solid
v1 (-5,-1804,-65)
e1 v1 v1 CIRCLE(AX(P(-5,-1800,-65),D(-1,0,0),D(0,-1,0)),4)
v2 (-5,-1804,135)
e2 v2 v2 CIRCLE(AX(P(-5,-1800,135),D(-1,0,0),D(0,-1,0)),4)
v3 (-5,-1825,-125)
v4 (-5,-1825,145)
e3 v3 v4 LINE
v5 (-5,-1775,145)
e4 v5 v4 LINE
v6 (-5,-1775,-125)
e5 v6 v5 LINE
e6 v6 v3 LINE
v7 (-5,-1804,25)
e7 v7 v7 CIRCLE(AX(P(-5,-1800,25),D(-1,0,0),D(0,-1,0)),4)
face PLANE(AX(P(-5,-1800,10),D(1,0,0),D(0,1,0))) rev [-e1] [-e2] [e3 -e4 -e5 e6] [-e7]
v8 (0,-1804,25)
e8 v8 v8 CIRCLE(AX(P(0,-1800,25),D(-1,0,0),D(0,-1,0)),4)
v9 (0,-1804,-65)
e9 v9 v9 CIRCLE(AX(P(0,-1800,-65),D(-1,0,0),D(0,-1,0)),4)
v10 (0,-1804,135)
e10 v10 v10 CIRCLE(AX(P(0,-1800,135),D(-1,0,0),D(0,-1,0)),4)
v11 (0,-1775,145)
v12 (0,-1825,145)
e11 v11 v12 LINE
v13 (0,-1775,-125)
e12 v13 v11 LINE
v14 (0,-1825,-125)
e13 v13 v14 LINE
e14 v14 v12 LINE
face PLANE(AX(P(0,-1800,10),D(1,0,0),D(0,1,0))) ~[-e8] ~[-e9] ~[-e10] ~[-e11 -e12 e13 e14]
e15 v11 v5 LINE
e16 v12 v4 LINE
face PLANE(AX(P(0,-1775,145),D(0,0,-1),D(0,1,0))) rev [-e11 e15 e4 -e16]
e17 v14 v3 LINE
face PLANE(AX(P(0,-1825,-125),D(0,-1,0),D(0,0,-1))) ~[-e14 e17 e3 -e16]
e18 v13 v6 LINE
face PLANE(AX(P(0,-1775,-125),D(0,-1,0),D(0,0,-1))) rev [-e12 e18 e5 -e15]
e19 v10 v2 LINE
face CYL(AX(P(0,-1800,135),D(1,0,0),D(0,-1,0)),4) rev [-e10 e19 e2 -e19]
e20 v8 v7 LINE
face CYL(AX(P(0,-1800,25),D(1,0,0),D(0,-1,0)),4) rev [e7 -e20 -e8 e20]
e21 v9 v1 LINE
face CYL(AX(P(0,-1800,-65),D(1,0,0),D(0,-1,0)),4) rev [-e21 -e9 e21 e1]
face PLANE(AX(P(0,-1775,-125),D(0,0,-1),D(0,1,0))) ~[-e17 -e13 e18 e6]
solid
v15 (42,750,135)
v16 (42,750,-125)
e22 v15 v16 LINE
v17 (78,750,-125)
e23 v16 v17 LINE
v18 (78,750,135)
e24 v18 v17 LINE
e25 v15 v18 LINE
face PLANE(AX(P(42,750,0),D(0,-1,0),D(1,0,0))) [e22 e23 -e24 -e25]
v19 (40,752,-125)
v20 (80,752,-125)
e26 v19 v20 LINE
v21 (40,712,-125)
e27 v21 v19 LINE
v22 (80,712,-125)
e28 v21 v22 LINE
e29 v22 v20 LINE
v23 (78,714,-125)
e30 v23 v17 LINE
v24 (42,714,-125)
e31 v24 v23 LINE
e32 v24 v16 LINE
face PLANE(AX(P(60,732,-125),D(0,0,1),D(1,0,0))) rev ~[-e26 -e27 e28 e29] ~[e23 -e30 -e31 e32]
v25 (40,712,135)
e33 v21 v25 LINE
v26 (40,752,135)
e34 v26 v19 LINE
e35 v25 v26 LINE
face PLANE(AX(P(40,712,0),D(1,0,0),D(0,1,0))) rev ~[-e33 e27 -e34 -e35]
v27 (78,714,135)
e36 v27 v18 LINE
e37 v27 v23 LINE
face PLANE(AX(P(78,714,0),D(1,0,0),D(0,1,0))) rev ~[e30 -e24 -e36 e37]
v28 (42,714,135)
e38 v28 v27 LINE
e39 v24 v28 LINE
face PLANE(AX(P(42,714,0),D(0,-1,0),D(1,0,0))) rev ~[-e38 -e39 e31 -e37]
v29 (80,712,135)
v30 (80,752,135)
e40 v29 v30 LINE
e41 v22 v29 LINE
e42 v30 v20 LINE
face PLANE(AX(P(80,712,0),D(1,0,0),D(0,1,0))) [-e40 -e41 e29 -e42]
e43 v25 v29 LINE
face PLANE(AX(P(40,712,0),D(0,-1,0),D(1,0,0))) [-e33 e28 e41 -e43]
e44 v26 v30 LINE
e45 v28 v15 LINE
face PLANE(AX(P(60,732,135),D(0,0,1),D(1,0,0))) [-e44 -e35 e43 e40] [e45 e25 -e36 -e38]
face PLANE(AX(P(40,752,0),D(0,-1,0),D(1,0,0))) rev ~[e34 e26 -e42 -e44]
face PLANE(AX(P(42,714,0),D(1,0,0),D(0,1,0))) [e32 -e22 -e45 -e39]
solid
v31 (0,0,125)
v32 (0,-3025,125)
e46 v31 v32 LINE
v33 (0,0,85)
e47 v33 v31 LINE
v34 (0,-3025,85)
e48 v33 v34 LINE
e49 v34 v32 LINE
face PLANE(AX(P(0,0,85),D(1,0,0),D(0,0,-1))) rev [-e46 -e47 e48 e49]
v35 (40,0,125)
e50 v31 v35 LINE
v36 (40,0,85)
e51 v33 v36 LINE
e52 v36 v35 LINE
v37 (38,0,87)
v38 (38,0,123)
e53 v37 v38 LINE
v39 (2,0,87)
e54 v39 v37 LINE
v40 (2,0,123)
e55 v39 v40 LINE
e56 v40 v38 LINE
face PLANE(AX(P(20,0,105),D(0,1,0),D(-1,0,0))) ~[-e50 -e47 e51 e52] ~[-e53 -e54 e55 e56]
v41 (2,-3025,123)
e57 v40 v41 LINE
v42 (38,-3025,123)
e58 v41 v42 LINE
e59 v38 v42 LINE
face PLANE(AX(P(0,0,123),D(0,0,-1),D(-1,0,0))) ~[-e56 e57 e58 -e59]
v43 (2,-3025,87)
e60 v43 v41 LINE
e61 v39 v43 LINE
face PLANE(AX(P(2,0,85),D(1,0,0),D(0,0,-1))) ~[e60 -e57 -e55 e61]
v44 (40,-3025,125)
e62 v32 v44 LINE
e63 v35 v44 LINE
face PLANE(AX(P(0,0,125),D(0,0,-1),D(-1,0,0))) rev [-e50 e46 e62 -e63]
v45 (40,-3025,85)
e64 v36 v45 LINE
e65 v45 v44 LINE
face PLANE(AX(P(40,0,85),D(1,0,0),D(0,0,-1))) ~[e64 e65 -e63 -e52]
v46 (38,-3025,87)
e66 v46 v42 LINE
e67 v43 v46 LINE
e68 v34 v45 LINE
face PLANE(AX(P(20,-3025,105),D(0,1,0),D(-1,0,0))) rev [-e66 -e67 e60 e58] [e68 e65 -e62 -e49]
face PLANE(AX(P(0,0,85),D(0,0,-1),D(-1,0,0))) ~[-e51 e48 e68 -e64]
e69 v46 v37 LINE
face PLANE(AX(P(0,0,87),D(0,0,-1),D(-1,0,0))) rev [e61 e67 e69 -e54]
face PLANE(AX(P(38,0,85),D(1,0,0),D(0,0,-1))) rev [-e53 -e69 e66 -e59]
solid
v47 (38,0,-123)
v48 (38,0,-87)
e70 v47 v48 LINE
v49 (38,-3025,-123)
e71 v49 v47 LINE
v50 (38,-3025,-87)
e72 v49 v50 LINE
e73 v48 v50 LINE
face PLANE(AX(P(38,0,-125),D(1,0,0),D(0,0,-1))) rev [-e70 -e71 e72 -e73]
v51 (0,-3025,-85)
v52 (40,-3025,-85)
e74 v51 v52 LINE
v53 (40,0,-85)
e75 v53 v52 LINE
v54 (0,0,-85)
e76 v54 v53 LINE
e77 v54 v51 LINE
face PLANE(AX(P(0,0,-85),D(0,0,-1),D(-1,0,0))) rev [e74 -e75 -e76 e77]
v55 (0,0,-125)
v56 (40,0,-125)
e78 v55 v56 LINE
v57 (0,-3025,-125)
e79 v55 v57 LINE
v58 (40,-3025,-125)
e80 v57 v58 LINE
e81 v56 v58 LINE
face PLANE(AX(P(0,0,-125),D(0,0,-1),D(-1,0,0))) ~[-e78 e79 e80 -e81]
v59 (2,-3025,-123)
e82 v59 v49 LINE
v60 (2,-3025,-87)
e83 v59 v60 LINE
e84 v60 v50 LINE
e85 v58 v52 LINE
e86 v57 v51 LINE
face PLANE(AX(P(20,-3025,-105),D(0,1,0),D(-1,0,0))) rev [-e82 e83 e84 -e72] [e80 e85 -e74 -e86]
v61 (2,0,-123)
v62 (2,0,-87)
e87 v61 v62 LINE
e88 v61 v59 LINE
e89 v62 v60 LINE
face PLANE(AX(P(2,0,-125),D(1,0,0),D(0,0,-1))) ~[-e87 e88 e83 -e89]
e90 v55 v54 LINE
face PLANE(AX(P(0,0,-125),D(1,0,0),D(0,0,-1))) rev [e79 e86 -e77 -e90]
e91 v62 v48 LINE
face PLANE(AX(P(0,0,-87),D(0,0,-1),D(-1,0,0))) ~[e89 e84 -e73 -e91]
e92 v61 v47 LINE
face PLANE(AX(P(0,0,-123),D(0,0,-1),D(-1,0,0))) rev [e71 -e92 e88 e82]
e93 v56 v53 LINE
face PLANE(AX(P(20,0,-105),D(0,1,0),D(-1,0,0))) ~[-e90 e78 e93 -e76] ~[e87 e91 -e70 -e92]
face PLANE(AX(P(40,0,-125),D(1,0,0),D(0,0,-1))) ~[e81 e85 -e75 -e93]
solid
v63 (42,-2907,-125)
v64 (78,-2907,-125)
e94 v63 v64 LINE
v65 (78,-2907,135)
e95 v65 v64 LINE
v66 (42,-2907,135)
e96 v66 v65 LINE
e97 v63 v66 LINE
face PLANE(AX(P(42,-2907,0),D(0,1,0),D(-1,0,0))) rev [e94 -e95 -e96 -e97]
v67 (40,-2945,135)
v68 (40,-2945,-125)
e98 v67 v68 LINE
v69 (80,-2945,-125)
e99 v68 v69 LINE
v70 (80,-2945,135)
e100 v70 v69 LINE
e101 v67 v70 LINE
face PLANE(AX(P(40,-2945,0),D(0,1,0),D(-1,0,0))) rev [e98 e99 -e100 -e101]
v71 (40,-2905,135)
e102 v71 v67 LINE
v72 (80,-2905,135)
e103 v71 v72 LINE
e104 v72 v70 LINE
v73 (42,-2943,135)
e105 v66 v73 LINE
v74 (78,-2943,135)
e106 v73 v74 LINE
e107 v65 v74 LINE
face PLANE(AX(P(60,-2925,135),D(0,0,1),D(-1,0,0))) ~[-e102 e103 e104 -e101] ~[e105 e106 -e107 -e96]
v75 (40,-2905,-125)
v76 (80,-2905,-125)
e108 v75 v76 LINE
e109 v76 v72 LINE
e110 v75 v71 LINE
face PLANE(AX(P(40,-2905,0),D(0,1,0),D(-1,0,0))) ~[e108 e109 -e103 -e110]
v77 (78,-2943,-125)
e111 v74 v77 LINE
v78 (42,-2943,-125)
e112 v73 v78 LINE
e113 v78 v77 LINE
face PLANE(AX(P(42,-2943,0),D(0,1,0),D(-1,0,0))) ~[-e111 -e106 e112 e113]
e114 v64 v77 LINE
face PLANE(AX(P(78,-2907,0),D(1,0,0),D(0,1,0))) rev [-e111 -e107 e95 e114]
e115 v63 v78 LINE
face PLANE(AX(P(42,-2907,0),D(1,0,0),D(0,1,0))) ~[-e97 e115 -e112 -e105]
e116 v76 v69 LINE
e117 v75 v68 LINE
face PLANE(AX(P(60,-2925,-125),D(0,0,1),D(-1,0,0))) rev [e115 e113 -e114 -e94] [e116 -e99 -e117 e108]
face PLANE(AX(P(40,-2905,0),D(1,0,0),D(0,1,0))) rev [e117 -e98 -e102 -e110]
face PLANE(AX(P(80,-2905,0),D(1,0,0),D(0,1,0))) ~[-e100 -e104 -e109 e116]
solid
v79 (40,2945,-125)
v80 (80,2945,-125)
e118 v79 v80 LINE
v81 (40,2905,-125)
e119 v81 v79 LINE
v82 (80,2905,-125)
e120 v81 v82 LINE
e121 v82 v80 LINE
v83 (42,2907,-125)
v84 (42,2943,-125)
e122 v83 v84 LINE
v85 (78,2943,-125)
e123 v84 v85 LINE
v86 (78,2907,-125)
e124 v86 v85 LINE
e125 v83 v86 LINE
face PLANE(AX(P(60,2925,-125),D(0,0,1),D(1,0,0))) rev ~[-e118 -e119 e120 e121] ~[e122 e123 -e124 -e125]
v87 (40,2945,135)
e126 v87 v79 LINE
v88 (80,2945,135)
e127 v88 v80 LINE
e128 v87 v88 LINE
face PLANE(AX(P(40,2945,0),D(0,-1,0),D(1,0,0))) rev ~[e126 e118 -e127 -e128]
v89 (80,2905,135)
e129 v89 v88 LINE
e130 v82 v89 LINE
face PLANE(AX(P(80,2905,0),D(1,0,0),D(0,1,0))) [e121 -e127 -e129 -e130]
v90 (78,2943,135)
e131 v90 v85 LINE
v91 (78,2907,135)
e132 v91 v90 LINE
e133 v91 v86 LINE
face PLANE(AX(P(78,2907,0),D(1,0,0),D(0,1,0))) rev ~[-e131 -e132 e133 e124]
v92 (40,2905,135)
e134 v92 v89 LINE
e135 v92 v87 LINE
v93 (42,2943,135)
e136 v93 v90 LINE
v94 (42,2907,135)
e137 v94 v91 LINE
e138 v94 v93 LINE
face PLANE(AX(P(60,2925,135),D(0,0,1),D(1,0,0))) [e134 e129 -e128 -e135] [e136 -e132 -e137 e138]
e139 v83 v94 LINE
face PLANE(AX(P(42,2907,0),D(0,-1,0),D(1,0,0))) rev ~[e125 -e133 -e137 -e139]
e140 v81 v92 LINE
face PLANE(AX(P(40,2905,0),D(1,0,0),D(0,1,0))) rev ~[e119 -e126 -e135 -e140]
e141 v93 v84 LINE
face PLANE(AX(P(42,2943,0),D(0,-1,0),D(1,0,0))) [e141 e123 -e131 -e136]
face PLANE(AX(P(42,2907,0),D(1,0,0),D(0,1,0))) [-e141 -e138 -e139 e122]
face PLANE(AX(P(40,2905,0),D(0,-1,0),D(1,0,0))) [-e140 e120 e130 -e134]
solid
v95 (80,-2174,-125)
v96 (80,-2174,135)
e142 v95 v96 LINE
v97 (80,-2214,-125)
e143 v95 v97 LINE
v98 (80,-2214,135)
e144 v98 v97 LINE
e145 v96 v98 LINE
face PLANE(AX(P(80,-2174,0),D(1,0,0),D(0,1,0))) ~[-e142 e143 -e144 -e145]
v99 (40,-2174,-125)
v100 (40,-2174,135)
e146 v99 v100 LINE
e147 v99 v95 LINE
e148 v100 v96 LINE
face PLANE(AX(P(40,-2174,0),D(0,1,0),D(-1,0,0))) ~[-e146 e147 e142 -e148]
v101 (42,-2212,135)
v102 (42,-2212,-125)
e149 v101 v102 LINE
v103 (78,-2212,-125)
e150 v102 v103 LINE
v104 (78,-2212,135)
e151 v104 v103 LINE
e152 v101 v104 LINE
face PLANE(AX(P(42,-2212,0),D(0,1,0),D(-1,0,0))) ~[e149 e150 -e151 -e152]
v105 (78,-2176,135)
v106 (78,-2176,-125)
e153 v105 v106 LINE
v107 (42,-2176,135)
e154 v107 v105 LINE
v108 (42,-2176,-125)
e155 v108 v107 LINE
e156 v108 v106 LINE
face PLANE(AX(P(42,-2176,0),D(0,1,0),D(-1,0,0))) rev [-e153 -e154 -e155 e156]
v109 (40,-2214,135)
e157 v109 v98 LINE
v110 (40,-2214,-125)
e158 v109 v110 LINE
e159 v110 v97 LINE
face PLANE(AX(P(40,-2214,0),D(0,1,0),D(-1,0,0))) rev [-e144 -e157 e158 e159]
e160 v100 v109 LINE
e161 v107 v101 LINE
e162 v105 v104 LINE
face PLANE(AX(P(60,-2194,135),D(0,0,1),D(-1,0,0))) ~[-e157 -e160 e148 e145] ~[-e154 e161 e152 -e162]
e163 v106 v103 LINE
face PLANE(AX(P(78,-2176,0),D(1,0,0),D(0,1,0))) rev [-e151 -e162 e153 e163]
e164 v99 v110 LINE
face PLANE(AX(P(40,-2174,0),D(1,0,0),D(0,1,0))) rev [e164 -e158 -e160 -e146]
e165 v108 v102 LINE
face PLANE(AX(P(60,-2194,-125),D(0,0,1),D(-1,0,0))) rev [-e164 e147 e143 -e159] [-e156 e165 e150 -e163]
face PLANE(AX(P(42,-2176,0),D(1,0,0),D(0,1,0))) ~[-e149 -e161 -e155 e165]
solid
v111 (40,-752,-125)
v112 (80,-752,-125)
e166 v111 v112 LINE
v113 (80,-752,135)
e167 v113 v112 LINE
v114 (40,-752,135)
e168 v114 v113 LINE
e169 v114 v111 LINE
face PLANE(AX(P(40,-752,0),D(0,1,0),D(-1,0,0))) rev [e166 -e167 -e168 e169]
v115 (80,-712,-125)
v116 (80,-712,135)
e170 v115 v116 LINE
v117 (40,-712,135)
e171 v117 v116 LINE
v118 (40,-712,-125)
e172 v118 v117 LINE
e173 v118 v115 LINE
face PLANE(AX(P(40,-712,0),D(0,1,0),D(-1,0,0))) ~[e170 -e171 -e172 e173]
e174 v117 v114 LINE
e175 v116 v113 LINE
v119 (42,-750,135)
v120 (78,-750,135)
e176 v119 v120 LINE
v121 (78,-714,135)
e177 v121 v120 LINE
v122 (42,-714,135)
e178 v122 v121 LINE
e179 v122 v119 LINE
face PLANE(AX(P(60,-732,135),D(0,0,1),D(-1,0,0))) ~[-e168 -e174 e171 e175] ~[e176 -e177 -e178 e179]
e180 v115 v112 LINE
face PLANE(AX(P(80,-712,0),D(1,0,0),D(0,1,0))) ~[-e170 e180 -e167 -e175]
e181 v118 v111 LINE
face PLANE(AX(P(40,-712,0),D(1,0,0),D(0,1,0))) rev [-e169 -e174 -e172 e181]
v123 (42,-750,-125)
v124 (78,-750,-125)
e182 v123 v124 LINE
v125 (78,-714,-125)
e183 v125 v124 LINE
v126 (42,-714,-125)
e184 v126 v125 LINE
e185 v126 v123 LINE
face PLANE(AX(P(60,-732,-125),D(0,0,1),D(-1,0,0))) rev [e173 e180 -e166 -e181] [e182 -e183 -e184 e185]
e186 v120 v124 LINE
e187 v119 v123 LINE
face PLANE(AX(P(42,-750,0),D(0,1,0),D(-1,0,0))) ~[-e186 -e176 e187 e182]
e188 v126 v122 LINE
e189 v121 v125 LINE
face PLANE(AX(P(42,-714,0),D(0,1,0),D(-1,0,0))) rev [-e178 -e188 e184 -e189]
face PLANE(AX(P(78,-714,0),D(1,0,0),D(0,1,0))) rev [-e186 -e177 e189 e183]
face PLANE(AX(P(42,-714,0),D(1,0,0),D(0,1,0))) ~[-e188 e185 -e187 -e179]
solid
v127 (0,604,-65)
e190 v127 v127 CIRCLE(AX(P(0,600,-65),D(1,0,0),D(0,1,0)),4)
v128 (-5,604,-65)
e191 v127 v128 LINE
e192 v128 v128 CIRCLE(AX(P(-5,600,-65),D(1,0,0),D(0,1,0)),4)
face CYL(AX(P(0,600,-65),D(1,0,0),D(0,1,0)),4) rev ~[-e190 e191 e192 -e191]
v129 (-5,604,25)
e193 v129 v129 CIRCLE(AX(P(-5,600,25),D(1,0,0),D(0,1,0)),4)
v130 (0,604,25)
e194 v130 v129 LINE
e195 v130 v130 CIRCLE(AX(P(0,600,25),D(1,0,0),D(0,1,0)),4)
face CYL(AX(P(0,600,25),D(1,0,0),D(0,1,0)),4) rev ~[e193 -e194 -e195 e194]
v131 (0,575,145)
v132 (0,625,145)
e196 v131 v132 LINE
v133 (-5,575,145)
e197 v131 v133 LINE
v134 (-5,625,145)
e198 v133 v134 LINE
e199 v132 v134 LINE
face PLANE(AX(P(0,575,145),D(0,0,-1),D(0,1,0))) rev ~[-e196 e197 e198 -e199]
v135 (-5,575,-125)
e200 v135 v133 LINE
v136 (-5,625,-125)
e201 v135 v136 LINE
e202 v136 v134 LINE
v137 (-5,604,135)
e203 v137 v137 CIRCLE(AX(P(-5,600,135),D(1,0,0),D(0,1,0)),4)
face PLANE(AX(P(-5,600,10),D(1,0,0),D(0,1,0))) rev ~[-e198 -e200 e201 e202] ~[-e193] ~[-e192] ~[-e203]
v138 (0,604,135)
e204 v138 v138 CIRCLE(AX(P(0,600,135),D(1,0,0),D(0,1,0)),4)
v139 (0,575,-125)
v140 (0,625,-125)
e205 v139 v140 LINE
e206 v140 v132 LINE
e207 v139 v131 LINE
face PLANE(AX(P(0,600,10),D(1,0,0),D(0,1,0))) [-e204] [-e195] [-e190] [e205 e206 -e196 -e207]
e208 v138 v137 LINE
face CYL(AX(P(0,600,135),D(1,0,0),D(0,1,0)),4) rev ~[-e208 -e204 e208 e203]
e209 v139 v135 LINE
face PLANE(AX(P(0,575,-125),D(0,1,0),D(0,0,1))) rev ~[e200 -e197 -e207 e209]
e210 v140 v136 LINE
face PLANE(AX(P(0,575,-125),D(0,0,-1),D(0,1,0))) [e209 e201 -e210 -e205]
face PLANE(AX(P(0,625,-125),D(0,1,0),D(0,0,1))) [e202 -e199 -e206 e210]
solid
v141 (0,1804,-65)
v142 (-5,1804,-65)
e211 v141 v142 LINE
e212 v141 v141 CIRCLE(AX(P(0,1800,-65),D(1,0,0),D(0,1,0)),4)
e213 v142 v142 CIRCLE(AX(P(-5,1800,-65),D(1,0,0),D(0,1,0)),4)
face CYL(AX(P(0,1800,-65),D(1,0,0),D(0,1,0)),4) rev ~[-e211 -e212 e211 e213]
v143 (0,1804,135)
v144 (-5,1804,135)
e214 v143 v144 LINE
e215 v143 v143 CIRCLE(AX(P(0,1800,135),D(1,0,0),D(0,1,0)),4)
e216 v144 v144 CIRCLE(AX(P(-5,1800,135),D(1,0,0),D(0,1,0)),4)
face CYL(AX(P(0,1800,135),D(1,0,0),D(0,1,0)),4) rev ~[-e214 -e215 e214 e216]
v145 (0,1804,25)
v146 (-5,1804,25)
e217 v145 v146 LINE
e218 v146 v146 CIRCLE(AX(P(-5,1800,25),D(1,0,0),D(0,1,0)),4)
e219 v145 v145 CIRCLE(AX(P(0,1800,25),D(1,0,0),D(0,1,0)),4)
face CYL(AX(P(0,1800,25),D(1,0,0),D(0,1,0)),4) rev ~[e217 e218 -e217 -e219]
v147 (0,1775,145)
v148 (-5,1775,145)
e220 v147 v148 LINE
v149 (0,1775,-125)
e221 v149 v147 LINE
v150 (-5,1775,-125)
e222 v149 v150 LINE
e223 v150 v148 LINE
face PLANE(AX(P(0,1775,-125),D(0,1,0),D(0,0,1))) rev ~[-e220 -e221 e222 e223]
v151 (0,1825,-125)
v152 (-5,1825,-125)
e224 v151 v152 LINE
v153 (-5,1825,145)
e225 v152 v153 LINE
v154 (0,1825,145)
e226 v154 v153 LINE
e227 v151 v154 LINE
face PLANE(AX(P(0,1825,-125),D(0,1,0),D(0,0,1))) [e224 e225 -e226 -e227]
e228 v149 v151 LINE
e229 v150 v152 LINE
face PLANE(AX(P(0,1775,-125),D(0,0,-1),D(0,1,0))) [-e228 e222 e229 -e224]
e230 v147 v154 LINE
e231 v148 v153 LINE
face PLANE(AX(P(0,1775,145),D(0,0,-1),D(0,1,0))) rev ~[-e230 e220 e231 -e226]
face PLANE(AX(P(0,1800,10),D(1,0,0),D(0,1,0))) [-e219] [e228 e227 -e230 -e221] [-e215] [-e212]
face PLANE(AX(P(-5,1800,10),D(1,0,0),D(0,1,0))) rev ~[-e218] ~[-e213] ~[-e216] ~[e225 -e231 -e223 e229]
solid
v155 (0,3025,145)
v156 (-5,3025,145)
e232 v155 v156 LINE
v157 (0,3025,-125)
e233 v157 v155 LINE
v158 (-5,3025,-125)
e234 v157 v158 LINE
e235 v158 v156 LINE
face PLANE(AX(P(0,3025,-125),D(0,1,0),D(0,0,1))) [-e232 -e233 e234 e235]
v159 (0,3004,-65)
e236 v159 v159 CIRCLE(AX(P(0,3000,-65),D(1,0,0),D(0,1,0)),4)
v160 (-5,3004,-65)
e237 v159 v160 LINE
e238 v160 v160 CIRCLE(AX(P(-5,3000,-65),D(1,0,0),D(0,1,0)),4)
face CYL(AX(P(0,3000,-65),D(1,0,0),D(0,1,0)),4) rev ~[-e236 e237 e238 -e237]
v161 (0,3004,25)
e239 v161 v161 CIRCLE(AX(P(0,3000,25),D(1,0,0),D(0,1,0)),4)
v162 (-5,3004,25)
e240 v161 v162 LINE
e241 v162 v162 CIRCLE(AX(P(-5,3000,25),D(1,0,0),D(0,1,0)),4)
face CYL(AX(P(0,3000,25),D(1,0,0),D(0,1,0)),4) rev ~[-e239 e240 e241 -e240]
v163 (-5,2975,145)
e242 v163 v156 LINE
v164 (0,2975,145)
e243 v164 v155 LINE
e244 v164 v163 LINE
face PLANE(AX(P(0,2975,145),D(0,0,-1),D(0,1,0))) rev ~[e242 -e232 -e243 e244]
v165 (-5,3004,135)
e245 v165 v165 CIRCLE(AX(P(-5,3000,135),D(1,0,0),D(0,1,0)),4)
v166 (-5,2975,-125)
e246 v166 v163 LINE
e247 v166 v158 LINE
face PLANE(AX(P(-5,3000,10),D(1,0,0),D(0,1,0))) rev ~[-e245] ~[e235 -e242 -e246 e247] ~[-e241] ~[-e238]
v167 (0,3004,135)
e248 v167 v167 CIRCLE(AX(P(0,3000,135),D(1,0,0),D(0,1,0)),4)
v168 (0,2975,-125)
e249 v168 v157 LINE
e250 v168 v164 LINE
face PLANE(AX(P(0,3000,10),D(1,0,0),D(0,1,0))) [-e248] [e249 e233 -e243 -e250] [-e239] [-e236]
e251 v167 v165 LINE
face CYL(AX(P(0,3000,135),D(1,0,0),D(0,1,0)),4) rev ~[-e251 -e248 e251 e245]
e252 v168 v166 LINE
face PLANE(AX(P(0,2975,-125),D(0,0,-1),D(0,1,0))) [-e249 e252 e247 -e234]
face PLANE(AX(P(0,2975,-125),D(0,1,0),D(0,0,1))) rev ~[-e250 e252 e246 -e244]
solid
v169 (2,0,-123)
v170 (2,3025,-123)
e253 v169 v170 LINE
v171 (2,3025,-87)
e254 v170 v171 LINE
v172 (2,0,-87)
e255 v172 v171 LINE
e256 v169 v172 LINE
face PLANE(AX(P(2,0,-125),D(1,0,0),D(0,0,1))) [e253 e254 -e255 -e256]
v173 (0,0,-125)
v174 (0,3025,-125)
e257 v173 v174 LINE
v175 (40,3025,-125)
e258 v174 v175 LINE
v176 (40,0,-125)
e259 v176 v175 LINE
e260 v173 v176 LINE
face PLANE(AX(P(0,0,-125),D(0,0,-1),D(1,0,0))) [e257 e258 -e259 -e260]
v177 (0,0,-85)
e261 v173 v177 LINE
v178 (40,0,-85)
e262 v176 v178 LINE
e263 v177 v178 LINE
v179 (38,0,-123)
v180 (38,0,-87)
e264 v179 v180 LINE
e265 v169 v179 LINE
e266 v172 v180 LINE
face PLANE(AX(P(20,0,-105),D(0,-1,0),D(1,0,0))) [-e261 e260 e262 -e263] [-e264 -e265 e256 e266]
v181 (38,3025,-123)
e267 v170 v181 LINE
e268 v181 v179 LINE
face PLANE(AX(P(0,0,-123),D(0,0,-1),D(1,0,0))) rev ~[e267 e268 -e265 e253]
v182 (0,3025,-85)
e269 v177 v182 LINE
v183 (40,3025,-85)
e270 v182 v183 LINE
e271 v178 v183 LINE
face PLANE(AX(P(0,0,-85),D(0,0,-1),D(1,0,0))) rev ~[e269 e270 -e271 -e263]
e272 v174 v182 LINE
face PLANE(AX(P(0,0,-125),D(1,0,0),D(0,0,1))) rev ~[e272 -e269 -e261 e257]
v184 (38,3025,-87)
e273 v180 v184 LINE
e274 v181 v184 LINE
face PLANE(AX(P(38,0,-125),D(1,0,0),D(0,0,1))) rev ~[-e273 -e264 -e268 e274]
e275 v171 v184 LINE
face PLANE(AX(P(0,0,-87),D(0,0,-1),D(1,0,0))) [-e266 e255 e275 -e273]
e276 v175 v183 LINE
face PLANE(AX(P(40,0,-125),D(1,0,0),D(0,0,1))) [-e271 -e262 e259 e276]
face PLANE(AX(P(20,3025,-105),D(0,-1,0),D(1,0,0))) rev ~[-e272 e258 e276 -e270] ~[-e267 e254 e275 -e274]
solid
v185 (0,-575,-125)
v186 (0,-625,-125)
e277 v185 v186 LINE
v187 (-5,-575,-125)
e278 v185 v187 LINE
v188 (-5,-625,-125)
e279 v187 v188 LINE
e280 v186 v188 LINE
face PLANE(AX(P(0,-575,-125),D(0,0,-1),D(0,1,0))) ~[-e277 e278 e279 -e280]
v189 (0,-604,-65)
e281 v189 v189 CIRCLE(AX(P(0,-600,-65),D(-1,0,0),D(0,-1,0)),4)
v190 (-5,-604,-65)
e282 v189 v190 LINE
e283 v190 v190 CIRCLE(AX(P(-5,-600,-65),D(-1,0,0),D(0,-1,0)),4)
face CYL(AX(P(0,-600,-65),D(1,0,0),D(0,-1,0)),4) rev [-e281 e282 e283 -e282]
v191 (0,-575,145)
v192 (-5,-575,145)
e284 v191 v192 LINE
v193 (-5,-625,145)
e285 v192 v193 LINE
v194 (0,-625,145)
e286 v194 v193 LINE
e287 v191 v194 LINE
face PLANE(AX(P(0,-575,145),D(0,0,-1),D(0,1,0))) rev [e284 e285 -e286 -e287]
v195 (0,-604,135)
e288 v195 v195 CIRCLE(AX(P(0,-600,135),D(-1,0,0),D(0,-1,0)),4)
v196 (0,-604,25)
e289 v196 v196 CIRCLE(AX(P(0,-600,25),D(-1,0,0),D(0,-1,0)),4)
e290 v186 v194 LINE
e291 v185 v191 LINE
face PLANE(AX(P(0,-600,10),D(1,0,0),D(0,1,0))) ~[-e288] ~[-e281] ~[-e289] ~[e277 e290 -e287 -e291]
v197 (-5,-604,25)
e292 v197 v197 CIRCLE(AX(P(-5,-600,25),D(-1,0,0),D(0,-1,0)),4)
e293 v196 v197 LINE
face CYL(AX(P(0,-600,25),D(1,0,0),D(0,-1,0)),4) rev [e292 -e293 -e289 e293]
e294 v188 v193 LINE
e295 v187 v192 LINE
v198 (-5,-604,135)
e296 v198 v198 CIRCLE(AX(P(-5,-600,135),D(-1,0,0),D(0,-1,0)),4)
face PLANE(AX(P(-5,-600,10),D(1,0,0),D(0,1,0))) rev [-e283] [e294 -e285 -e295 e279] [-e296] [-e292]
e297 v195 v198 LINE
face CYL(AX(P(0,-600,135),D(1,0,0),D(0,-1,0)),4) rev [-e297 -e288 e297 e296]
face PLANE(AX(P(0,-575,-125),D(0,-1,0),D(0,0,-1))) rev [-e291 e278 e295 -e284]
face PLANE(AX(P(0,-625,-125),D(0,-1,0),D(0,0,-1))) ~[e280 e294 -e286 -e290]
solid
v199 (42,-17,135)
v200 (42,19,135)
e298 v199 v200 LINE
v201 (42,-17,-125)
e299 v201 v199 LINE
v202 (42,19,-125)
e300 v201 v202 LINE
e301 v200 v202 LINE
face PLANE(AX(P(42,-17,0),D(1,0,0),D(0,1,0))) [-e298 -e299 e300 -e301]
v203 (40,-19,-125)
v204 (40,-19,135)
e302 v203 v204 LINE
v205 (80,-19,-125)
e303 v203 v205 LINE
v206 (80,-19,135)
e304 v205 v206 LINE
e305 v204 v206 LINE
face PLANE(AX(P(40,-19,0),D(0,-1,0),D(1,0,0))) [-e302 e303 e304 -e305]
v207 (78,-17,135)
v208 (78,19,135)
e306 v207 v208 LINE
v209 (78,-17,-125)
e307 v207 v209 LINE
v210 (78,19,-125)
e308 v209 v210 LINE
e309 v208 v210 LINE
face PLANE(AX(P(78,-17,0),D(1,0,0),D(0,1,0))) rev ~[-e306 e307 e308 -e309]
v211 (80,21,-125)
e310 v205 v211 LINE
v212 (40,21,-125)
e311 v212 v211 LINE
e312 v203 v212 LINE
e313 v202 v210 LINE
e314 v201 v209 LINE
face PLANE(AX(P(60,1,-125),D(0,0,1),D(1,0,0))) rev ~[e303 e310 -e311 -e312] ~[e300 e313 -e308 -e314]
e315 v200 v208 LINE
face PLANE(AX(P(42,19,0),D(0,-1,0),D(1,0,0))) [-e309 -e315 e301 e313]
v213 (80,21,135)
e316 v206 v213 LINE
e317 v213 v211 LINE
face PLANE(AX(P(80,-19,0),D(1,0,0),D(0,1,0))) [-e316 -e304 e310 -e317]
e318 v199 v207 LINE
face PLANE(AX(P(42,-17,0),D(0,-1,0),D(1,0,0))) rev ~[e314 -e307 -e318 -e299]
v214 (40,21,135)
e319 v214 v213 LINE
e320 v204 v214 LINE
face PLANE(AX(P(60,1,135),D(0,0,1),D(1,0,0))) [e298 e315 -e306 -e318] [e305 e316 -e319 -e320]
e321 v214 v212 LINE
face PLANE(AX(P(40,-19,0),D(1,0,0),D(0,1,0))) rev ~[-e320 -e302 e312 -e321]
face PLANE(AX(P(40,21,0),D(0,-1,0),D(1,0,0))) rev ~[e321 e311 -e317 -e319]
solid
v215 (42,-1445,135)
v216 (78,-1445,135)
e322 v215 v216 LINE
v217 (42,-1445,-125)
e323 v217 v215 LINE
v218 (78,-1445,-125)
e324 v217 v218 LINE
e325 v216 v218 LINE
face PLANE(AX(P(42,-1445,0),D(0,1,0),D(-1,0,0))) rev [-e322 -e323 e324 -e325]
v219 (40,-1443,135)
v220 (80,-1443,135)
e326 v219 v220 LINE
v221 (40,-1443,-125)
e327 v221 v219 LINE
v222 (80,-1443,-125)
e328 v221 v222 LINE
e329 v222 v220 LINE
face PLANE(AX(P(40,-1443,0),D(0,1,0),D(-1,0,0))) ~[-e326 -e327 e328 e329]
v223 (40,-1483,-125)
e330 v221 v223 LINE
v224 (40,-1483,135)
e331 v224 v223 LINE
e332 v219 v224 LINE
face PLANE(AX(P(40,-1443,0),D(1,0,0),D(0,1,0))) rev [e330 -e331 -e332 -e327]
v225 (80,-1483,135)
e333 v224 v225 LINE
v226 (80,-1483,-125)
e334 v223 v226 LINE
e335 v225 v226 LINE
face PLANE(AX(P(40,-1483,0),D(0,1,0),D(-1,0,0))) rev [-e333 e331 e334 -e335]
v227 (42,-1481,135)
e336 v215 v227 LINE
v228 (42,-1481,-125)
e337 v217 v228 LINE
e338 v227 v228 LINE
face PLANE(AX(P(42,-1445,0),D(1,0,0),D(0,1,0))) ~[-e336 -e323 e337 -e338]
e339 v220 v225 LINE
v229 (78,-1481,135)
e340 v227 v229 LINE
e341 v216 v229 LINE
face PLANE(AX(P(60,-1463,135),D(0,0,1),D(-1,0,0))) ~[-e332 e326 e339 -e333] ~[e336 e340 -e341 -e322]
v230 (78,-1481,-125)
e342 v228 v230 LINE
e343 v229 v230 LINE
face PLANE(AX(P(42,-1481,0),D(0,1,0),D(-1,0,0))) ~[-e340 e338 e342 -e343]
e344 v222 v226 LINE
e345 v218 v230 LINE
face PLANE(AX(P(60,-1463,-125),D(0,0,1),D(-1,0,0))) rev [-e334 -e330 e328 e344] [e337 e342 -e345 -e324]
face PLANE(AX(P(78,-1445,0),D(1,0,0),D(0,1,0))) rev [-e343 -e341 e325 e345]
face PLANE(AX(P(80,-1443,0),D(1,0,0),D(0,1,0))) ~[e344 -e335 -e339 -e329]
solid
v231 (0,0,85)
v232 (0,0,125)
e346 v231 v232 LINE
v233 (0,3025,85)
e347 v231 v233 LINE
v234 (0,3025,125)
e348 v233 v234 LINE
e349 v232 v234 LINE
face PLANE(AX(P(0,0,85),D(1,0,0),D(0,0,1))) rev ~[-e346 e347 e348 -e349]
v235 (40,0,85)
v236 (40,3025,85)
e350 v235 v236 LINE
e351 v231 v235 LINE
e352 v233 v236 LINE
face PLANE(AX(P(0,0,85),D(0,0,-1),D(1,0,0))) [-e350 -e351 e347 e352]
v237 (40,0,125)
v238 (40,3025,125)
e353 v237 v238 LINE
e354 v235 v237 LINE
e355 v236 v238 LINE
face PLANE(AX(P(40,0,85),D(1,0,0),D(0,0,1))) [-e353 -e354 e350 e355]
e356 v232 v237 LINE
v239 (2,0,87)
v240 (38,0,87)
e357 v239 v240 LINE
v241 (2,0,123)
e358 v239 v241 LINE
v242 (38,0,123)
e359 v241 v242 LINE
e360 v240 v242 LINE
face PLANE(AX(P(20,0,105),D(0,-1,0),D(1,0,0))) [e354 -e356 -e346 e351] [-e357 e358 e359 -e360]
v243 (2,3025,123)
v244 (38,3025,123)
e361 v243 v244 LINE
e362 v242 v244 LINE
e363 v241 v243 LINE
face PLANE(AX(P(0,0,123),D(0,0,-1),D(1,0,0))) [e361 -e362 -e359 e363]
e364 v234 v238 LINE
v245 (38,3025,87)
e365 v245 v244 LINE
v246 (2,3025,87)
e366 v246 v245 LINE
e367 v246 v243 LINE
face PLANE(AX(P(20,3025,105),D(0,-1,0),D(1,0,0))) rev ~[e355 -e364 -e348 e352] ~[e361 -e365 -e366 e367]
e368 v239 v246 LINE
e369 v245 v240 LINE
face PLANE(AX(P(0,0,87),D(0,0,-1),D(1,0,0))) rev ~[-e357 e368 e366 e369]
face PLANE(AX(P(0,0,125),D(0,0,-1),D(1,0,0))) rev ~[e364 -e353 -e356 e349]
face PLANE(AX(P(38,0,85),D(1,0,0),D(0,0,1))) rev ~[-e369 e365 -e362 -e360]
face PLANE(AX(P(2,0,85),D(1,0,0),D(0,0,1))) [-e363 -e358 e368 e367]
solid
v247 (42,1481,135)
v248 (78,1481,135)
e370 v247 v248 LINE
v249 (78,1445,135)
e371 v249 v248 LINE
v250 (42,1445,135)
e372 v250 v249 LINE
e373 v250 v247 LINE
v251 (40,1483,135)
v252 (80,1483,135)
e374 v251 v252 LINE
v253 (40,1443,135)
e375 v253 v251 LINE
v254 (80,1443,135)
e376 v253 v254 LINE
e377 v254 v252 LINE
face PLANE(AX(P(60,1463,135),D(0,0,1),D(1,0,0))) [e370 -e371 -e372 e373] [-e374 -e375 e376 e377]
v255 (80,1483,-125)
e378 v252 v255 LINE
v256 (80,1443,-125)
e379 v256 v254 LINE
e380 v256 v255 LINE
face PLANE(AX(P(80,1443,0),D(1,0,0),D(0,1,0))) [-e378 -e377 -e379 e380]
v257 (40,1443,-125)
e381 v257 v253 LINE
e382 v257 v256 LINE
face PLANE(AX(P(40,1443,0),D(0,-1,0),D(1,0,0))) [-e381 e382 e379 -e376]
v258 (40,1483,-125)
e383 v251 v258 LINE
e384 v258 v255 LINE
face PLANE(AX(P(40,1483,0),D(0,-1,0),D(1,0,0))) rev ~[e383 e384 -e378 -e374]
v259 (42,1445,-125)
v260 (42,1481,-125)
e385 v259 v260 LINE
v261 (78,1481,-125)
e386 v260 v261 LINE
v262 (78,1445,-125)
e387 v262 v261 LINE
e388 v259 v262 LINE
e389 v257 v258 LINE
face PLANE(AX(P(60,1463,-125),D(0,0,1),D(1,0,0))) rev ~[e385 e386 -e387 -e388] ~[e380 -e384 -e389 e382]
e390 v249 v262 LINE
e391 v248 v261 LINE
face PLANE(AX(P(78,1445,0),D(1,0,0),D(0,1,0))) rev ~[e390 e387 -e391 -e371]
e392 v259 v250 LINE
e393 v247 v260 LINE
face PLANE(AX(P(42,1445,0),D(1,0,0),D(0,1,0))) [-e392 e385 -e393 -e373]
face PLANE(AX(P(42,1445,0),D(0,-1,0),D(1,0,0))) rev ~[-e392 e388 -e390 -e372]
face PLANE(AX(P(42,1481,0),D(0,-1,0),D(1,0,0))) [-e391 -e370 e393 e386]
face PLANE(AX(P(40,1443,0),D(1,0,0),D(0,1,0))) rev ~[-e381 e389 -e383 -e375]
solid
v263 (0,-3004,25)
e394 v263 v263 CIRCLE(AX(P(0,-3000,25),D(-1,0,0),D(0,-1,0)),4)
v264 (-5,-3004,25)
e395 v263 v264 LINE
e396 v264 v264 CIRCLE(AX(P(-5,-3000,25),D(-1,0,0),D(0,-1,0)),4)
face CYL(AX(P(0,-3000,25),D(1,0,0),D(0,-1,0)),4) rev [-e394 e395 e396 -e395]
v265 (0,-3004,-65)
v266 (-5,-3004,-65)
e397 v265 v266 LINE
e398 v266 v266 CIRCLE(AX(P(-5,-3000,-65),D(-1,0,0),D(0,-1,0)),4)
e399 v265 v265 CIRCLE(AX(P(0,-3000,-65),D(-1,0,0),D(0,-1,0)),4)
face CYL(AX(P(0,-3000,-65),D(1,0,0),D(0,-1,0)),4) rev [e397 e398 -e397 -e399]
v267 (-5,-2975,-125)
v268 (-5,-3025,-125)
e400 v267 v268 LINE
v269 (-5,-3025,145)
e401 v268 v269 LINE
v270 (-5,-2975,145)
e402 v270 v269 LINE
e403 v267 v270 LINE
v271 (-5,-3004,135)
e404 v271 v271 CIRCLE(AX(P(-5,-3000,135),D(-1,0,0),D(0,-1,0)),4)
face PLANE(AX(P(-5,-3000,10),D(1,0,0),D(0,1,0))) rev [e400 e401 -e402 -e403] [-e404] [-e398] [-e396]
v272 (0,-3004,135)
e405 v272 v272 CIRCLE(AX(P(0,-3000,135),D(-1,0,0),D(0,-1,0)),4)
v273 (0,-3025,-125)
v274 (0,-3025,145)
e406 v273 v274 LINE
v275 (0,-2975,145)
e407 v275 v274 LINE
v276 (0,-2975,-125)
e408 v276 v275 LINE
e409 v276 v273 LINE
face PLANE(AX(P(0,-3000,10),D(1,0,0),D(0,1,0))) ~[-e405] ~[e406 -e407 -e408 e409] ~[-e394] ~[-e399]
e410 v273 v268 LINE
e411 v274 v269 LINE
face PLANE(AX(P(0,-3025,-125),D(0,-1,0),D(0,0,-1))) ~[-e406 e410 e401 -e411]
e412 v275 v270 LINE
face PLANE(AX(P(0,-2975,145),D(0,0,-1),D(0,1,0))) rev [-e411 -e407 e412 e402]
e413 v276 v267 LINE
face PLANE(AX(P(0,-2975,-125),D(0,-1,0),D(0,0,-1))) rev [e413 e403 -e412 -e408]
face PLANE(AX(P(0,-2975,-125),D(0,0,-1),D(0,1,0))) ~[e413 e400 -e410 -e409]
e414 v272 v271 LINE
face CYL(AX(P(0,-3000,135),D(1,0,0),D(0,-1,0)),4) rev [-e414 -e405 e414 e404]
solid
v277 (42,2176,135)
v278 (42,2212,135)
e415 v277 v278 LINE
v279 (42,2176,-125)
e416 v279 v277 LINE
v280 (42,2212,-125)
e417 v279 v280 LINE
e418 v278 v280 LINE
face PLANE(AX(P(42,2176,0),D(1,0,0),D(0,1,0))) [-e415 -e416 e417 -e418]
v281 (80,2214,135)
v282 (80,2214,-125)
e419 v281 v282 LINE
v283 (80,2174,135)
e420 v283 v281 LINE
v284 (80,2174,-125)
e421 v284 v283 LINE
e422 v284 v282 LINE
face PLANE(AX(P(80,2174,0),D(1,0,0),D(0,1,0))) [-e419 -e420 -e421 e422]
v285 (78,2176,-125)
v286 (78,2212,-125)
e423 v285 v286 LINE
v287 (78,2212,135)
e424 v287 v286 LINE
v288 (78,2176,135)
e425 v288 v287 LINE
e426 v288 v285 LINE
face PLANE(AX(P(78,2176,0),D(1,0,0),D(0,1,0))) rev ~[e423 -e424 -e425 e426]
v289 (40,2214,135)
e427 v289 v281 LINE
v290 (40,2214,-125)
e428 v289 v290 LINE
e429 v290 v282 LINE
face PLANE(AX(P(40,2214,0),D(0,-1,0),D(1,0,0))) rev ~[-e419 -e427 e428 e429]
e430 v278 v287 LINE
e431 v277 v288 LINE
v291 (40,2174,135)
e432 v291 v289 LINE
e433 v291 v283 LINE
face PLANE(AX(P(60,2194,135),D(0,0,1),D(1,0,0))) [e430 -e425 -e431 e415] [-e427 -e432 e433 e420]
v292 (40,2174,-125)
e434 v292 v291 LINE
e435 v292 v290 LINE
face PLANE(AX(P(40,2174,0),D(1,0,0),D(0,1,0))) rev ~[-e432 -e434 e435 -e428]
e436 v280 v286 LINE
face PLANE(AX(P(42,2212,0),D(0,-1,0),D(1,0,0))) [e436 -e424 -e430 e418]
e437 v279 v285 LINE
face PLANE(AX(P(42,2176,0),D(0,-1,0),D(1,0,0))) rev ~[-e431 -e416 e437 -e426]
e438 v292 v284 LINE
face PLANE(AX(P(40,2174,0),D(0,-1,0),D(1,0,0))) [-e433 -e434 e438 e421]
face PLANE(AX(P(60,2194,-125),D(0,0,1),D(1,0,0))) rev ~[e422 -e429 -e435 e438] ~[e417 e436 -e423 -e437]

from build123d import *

# Parameters (mm, degrees)
F0_W          = 40
F0_H          = 40
F1_DEPTH      = 3025
F2_T          = -2
F2_2_T        = -2
F3_W          = 50
F3_H          = 270
F3_R          = 4
F4_DEPTH      = 5
F5_W          = 40
F5_H          = 40
F5_W_2        = 36
F5_H_2        = 36
F6_DEPTH      = 135
F6_DEPTH_BACK = 125


with BuildPart() as f1:
    # F0 (on Front) → F1 (new body)
    with BuildSketch(Plane.XZ):
        with Locations((20, 105)):
            Rectangle(F0_W, F0_H)
    extrude(amount=-F1_DEPTH)

    # F2
    f2_openings = [f1.faces().sort_by_distance(p)[0] for p in [
        (20, 0, 105),
        (20, 3025, 105),
    ]]
    offset(amount=F2_T, openings=f2_openings)


with BuildPart() as f1b:
    # F0 (on Front) → F1, piece 2 (new body)
    with BuildSketch(Plane.XZ):
        with Locations((20, -105)):
            Rectangle(F0_W, F0_H)
    extrude(amount=-F1_DEPTH)

    # F2#2
    f2_2_openings = [f1b.faces().sort_by_distance(p)[0] for p in [
        (20, 0, -105),
        (20, 3025, -105),
    ]]
    offset(amount=F2_2_T, openings=f2_2_openings)


with BuildPart() as f4:
    # F3 (on Right) → F4 (new body)
    with BuildSketch(Plane.YZ):
        with Locations((600, 10)):
            Rectangle(F3_W, F3_H)
        with Locations((600, -65)):
            Circle(F3_R, mode=Mode.SUBTRACT)
        with Locations((600, 25)):
            Circle(F3_R, mode=Mode.SUBTRACT)
        with Locations((600, 135)):
            Circle(F3_R, mode=Mode.SUBTRACT)
    extrude(amount=-F4_DEPTH)


with BuildPart() as f4b:
    # F3 (on Right) → F4, piece 2 (new body)
    with BuildSketch(Plane.YZ):
        with Locations((1800, 10)):
            Rectangle(F3_W, F3_H)
        with Locations((1800, -65)):
            Circle(F3_R, mode=Mode.SUBTRACT)
        with Locations((1800, 25)):
            Circle(F3_R, mode=Mode.SUBTRACT)
        with Locations((1800, 135)):
            Circle(F3_R, mode=Mode.SUBTRACT)
    extrude(amount=-F4_DEPTH)


with BuildPart() as f4c:
    # F3 (on Right) → F4, piece 3 (new body)
    with BuildSketch(Plane.YZ):
        with Locations((3000, 10)):
            Rectangle(F3_W, F3_H)
        with Locations((3000, -65)):
            Circle(F3_R, mode=Mode.SUBTRACT)
        with Locations((3000, 25)):
            Circle(F3_R, mode=Mode.SUBTRACT)
        with Locations((3000, 135)):
            Circle(F3_R, mode=Mode.SUBTRACT)
    extrude(amount=-F4_DEPTH)


with BuildPart() as f6:
    # F5 (on Top) → F6 (new body, two sides)
    with BuildSketch(Plane.XY) as f6_sk:
        with Locations((60, 2925)):
            Rectangle(F5_W, F5_H)
        with Locations((60, 2925)):
            Rectangle(F5_W_2, F5_H_2, mode=Mode.SUBTRACT)
    extrude(amount=F6_DEPTH)
    extrude(f6_sk.sketch, amount=-F6_DEPTH_BACK)


with BuildPart() as f6b:
    # F5 (on Top) → F6, piece 2 (new body, two sides)
    with BuildSketch(Plane.XY) as f6_2_sk:
        with Locations((60, 2194)):
            Rectangle(F5_W, F5_H)
        with Locations((60, 2194)):
            Rectangle(F5_W_2, F5_H_2, mode=Mode.SUBTRACT)
    extrude(amount=F6_DEPTH)
    extrude(f6_2_sk.sketch, amount=-F6_DEPTH_BACK)


with BuildPart() as f6c:
    # F5 (on Top) → F6, piece 3 (new body, two sides)
    with BuildSketch(Plane.XY) as f6_3_sk:
        with Locations((60, 1463)):
            Rectangle(F5_W, F5_H)
        with Locations((60, 1463)):
            Rectangle(F5_W_2, F5_H_2, mode=Mode.SUBTRACT)
    extrude(amount=F6_DEPTH)
    extrude(f6_3_sk.sketch, amount=-F6_DEPTH_BACK)


with BuildPart() as f6d:
    # F5 (on Top) → F6, piece 4 (new body, two sides)
    with BuildSketch(Plane.XY) as f6_4_sk:
        with Locations((60, 732)):
            Rectangle(F5_W, F5_H)
        with Locations((60, 732)):
            Rectangle(F5_W_2, F5_H_2, mode=Mode.SUBTRACT)
    extrude(amount=F6_DEPTH)
    extrude(f6_4_sk.sketch, amount=-F6_DEPTH_BACK)


with BuildPart() as f6e:
    # F5 (on Top) → F6, piece 5 (new body, two sides)
    with BuildSketch(Plane.XY) as f6_5_sk:
        with Locations((60, 1)):
            Rectangle(F5_W, F5_H)
        with Locations((60, 1)):
            Rectangle(F5_W_2, F5_H_2, mode=Mode.SUBTRACT)
    extrude(amount=F6_DEPTH)
    extrude(f6_5_sk.sketch, amount=-F6_DEPTH_BACK)


with BuildPart() as f7_1:
    # F7: instance of F1
    add(f1.part.mirror(Plane.XZ))


with BuildPart() as f7_2:
    # F7: instance of F1b
    add(f1b.part.mirror(Plane.XZ))


with BuildPart() as f7_3:
    # F7: instance of F4
    add(f4.part.mirror(Plane.XZ))


with BuildPart() as f7_4:
    # F7: instance of F6d
    add(f6d.part.mirror(Plane.XZ))


with BuildPart() as f7_5:
    # F7: instance of F4c
    add(f4c.part.mirror(Plane.XZ))


with BuildPart() as f7_6:
    # F7: instance of F6
    add(f6.part.mirror(Plane.XZ))


with BuildPart() as f7_7:
    # F7: instance of F6b
    add(f6b.part.mirror(Plane.XZ))


with BuildPart() as f7_8:
    # F7: instance of F4b
    add(f4b.part.mirror(Plane.XZ))


with BuildPart() as f7_9:
    # F7: instance of F6c
    add(f6c.part.mirror(Plane.XZ))


solid = Compound([f1.part, f1b.part, f4.part, f4b.part, f4c.part, f6.part, f6b.part, f6c.part, f6d.part, f6e.part, f7_1.part, f7_2.part, f7_3.part, f7_4.part, f7_5.part, f7_6.part, f7_7.part, f7_8.part, f7_9.part])
